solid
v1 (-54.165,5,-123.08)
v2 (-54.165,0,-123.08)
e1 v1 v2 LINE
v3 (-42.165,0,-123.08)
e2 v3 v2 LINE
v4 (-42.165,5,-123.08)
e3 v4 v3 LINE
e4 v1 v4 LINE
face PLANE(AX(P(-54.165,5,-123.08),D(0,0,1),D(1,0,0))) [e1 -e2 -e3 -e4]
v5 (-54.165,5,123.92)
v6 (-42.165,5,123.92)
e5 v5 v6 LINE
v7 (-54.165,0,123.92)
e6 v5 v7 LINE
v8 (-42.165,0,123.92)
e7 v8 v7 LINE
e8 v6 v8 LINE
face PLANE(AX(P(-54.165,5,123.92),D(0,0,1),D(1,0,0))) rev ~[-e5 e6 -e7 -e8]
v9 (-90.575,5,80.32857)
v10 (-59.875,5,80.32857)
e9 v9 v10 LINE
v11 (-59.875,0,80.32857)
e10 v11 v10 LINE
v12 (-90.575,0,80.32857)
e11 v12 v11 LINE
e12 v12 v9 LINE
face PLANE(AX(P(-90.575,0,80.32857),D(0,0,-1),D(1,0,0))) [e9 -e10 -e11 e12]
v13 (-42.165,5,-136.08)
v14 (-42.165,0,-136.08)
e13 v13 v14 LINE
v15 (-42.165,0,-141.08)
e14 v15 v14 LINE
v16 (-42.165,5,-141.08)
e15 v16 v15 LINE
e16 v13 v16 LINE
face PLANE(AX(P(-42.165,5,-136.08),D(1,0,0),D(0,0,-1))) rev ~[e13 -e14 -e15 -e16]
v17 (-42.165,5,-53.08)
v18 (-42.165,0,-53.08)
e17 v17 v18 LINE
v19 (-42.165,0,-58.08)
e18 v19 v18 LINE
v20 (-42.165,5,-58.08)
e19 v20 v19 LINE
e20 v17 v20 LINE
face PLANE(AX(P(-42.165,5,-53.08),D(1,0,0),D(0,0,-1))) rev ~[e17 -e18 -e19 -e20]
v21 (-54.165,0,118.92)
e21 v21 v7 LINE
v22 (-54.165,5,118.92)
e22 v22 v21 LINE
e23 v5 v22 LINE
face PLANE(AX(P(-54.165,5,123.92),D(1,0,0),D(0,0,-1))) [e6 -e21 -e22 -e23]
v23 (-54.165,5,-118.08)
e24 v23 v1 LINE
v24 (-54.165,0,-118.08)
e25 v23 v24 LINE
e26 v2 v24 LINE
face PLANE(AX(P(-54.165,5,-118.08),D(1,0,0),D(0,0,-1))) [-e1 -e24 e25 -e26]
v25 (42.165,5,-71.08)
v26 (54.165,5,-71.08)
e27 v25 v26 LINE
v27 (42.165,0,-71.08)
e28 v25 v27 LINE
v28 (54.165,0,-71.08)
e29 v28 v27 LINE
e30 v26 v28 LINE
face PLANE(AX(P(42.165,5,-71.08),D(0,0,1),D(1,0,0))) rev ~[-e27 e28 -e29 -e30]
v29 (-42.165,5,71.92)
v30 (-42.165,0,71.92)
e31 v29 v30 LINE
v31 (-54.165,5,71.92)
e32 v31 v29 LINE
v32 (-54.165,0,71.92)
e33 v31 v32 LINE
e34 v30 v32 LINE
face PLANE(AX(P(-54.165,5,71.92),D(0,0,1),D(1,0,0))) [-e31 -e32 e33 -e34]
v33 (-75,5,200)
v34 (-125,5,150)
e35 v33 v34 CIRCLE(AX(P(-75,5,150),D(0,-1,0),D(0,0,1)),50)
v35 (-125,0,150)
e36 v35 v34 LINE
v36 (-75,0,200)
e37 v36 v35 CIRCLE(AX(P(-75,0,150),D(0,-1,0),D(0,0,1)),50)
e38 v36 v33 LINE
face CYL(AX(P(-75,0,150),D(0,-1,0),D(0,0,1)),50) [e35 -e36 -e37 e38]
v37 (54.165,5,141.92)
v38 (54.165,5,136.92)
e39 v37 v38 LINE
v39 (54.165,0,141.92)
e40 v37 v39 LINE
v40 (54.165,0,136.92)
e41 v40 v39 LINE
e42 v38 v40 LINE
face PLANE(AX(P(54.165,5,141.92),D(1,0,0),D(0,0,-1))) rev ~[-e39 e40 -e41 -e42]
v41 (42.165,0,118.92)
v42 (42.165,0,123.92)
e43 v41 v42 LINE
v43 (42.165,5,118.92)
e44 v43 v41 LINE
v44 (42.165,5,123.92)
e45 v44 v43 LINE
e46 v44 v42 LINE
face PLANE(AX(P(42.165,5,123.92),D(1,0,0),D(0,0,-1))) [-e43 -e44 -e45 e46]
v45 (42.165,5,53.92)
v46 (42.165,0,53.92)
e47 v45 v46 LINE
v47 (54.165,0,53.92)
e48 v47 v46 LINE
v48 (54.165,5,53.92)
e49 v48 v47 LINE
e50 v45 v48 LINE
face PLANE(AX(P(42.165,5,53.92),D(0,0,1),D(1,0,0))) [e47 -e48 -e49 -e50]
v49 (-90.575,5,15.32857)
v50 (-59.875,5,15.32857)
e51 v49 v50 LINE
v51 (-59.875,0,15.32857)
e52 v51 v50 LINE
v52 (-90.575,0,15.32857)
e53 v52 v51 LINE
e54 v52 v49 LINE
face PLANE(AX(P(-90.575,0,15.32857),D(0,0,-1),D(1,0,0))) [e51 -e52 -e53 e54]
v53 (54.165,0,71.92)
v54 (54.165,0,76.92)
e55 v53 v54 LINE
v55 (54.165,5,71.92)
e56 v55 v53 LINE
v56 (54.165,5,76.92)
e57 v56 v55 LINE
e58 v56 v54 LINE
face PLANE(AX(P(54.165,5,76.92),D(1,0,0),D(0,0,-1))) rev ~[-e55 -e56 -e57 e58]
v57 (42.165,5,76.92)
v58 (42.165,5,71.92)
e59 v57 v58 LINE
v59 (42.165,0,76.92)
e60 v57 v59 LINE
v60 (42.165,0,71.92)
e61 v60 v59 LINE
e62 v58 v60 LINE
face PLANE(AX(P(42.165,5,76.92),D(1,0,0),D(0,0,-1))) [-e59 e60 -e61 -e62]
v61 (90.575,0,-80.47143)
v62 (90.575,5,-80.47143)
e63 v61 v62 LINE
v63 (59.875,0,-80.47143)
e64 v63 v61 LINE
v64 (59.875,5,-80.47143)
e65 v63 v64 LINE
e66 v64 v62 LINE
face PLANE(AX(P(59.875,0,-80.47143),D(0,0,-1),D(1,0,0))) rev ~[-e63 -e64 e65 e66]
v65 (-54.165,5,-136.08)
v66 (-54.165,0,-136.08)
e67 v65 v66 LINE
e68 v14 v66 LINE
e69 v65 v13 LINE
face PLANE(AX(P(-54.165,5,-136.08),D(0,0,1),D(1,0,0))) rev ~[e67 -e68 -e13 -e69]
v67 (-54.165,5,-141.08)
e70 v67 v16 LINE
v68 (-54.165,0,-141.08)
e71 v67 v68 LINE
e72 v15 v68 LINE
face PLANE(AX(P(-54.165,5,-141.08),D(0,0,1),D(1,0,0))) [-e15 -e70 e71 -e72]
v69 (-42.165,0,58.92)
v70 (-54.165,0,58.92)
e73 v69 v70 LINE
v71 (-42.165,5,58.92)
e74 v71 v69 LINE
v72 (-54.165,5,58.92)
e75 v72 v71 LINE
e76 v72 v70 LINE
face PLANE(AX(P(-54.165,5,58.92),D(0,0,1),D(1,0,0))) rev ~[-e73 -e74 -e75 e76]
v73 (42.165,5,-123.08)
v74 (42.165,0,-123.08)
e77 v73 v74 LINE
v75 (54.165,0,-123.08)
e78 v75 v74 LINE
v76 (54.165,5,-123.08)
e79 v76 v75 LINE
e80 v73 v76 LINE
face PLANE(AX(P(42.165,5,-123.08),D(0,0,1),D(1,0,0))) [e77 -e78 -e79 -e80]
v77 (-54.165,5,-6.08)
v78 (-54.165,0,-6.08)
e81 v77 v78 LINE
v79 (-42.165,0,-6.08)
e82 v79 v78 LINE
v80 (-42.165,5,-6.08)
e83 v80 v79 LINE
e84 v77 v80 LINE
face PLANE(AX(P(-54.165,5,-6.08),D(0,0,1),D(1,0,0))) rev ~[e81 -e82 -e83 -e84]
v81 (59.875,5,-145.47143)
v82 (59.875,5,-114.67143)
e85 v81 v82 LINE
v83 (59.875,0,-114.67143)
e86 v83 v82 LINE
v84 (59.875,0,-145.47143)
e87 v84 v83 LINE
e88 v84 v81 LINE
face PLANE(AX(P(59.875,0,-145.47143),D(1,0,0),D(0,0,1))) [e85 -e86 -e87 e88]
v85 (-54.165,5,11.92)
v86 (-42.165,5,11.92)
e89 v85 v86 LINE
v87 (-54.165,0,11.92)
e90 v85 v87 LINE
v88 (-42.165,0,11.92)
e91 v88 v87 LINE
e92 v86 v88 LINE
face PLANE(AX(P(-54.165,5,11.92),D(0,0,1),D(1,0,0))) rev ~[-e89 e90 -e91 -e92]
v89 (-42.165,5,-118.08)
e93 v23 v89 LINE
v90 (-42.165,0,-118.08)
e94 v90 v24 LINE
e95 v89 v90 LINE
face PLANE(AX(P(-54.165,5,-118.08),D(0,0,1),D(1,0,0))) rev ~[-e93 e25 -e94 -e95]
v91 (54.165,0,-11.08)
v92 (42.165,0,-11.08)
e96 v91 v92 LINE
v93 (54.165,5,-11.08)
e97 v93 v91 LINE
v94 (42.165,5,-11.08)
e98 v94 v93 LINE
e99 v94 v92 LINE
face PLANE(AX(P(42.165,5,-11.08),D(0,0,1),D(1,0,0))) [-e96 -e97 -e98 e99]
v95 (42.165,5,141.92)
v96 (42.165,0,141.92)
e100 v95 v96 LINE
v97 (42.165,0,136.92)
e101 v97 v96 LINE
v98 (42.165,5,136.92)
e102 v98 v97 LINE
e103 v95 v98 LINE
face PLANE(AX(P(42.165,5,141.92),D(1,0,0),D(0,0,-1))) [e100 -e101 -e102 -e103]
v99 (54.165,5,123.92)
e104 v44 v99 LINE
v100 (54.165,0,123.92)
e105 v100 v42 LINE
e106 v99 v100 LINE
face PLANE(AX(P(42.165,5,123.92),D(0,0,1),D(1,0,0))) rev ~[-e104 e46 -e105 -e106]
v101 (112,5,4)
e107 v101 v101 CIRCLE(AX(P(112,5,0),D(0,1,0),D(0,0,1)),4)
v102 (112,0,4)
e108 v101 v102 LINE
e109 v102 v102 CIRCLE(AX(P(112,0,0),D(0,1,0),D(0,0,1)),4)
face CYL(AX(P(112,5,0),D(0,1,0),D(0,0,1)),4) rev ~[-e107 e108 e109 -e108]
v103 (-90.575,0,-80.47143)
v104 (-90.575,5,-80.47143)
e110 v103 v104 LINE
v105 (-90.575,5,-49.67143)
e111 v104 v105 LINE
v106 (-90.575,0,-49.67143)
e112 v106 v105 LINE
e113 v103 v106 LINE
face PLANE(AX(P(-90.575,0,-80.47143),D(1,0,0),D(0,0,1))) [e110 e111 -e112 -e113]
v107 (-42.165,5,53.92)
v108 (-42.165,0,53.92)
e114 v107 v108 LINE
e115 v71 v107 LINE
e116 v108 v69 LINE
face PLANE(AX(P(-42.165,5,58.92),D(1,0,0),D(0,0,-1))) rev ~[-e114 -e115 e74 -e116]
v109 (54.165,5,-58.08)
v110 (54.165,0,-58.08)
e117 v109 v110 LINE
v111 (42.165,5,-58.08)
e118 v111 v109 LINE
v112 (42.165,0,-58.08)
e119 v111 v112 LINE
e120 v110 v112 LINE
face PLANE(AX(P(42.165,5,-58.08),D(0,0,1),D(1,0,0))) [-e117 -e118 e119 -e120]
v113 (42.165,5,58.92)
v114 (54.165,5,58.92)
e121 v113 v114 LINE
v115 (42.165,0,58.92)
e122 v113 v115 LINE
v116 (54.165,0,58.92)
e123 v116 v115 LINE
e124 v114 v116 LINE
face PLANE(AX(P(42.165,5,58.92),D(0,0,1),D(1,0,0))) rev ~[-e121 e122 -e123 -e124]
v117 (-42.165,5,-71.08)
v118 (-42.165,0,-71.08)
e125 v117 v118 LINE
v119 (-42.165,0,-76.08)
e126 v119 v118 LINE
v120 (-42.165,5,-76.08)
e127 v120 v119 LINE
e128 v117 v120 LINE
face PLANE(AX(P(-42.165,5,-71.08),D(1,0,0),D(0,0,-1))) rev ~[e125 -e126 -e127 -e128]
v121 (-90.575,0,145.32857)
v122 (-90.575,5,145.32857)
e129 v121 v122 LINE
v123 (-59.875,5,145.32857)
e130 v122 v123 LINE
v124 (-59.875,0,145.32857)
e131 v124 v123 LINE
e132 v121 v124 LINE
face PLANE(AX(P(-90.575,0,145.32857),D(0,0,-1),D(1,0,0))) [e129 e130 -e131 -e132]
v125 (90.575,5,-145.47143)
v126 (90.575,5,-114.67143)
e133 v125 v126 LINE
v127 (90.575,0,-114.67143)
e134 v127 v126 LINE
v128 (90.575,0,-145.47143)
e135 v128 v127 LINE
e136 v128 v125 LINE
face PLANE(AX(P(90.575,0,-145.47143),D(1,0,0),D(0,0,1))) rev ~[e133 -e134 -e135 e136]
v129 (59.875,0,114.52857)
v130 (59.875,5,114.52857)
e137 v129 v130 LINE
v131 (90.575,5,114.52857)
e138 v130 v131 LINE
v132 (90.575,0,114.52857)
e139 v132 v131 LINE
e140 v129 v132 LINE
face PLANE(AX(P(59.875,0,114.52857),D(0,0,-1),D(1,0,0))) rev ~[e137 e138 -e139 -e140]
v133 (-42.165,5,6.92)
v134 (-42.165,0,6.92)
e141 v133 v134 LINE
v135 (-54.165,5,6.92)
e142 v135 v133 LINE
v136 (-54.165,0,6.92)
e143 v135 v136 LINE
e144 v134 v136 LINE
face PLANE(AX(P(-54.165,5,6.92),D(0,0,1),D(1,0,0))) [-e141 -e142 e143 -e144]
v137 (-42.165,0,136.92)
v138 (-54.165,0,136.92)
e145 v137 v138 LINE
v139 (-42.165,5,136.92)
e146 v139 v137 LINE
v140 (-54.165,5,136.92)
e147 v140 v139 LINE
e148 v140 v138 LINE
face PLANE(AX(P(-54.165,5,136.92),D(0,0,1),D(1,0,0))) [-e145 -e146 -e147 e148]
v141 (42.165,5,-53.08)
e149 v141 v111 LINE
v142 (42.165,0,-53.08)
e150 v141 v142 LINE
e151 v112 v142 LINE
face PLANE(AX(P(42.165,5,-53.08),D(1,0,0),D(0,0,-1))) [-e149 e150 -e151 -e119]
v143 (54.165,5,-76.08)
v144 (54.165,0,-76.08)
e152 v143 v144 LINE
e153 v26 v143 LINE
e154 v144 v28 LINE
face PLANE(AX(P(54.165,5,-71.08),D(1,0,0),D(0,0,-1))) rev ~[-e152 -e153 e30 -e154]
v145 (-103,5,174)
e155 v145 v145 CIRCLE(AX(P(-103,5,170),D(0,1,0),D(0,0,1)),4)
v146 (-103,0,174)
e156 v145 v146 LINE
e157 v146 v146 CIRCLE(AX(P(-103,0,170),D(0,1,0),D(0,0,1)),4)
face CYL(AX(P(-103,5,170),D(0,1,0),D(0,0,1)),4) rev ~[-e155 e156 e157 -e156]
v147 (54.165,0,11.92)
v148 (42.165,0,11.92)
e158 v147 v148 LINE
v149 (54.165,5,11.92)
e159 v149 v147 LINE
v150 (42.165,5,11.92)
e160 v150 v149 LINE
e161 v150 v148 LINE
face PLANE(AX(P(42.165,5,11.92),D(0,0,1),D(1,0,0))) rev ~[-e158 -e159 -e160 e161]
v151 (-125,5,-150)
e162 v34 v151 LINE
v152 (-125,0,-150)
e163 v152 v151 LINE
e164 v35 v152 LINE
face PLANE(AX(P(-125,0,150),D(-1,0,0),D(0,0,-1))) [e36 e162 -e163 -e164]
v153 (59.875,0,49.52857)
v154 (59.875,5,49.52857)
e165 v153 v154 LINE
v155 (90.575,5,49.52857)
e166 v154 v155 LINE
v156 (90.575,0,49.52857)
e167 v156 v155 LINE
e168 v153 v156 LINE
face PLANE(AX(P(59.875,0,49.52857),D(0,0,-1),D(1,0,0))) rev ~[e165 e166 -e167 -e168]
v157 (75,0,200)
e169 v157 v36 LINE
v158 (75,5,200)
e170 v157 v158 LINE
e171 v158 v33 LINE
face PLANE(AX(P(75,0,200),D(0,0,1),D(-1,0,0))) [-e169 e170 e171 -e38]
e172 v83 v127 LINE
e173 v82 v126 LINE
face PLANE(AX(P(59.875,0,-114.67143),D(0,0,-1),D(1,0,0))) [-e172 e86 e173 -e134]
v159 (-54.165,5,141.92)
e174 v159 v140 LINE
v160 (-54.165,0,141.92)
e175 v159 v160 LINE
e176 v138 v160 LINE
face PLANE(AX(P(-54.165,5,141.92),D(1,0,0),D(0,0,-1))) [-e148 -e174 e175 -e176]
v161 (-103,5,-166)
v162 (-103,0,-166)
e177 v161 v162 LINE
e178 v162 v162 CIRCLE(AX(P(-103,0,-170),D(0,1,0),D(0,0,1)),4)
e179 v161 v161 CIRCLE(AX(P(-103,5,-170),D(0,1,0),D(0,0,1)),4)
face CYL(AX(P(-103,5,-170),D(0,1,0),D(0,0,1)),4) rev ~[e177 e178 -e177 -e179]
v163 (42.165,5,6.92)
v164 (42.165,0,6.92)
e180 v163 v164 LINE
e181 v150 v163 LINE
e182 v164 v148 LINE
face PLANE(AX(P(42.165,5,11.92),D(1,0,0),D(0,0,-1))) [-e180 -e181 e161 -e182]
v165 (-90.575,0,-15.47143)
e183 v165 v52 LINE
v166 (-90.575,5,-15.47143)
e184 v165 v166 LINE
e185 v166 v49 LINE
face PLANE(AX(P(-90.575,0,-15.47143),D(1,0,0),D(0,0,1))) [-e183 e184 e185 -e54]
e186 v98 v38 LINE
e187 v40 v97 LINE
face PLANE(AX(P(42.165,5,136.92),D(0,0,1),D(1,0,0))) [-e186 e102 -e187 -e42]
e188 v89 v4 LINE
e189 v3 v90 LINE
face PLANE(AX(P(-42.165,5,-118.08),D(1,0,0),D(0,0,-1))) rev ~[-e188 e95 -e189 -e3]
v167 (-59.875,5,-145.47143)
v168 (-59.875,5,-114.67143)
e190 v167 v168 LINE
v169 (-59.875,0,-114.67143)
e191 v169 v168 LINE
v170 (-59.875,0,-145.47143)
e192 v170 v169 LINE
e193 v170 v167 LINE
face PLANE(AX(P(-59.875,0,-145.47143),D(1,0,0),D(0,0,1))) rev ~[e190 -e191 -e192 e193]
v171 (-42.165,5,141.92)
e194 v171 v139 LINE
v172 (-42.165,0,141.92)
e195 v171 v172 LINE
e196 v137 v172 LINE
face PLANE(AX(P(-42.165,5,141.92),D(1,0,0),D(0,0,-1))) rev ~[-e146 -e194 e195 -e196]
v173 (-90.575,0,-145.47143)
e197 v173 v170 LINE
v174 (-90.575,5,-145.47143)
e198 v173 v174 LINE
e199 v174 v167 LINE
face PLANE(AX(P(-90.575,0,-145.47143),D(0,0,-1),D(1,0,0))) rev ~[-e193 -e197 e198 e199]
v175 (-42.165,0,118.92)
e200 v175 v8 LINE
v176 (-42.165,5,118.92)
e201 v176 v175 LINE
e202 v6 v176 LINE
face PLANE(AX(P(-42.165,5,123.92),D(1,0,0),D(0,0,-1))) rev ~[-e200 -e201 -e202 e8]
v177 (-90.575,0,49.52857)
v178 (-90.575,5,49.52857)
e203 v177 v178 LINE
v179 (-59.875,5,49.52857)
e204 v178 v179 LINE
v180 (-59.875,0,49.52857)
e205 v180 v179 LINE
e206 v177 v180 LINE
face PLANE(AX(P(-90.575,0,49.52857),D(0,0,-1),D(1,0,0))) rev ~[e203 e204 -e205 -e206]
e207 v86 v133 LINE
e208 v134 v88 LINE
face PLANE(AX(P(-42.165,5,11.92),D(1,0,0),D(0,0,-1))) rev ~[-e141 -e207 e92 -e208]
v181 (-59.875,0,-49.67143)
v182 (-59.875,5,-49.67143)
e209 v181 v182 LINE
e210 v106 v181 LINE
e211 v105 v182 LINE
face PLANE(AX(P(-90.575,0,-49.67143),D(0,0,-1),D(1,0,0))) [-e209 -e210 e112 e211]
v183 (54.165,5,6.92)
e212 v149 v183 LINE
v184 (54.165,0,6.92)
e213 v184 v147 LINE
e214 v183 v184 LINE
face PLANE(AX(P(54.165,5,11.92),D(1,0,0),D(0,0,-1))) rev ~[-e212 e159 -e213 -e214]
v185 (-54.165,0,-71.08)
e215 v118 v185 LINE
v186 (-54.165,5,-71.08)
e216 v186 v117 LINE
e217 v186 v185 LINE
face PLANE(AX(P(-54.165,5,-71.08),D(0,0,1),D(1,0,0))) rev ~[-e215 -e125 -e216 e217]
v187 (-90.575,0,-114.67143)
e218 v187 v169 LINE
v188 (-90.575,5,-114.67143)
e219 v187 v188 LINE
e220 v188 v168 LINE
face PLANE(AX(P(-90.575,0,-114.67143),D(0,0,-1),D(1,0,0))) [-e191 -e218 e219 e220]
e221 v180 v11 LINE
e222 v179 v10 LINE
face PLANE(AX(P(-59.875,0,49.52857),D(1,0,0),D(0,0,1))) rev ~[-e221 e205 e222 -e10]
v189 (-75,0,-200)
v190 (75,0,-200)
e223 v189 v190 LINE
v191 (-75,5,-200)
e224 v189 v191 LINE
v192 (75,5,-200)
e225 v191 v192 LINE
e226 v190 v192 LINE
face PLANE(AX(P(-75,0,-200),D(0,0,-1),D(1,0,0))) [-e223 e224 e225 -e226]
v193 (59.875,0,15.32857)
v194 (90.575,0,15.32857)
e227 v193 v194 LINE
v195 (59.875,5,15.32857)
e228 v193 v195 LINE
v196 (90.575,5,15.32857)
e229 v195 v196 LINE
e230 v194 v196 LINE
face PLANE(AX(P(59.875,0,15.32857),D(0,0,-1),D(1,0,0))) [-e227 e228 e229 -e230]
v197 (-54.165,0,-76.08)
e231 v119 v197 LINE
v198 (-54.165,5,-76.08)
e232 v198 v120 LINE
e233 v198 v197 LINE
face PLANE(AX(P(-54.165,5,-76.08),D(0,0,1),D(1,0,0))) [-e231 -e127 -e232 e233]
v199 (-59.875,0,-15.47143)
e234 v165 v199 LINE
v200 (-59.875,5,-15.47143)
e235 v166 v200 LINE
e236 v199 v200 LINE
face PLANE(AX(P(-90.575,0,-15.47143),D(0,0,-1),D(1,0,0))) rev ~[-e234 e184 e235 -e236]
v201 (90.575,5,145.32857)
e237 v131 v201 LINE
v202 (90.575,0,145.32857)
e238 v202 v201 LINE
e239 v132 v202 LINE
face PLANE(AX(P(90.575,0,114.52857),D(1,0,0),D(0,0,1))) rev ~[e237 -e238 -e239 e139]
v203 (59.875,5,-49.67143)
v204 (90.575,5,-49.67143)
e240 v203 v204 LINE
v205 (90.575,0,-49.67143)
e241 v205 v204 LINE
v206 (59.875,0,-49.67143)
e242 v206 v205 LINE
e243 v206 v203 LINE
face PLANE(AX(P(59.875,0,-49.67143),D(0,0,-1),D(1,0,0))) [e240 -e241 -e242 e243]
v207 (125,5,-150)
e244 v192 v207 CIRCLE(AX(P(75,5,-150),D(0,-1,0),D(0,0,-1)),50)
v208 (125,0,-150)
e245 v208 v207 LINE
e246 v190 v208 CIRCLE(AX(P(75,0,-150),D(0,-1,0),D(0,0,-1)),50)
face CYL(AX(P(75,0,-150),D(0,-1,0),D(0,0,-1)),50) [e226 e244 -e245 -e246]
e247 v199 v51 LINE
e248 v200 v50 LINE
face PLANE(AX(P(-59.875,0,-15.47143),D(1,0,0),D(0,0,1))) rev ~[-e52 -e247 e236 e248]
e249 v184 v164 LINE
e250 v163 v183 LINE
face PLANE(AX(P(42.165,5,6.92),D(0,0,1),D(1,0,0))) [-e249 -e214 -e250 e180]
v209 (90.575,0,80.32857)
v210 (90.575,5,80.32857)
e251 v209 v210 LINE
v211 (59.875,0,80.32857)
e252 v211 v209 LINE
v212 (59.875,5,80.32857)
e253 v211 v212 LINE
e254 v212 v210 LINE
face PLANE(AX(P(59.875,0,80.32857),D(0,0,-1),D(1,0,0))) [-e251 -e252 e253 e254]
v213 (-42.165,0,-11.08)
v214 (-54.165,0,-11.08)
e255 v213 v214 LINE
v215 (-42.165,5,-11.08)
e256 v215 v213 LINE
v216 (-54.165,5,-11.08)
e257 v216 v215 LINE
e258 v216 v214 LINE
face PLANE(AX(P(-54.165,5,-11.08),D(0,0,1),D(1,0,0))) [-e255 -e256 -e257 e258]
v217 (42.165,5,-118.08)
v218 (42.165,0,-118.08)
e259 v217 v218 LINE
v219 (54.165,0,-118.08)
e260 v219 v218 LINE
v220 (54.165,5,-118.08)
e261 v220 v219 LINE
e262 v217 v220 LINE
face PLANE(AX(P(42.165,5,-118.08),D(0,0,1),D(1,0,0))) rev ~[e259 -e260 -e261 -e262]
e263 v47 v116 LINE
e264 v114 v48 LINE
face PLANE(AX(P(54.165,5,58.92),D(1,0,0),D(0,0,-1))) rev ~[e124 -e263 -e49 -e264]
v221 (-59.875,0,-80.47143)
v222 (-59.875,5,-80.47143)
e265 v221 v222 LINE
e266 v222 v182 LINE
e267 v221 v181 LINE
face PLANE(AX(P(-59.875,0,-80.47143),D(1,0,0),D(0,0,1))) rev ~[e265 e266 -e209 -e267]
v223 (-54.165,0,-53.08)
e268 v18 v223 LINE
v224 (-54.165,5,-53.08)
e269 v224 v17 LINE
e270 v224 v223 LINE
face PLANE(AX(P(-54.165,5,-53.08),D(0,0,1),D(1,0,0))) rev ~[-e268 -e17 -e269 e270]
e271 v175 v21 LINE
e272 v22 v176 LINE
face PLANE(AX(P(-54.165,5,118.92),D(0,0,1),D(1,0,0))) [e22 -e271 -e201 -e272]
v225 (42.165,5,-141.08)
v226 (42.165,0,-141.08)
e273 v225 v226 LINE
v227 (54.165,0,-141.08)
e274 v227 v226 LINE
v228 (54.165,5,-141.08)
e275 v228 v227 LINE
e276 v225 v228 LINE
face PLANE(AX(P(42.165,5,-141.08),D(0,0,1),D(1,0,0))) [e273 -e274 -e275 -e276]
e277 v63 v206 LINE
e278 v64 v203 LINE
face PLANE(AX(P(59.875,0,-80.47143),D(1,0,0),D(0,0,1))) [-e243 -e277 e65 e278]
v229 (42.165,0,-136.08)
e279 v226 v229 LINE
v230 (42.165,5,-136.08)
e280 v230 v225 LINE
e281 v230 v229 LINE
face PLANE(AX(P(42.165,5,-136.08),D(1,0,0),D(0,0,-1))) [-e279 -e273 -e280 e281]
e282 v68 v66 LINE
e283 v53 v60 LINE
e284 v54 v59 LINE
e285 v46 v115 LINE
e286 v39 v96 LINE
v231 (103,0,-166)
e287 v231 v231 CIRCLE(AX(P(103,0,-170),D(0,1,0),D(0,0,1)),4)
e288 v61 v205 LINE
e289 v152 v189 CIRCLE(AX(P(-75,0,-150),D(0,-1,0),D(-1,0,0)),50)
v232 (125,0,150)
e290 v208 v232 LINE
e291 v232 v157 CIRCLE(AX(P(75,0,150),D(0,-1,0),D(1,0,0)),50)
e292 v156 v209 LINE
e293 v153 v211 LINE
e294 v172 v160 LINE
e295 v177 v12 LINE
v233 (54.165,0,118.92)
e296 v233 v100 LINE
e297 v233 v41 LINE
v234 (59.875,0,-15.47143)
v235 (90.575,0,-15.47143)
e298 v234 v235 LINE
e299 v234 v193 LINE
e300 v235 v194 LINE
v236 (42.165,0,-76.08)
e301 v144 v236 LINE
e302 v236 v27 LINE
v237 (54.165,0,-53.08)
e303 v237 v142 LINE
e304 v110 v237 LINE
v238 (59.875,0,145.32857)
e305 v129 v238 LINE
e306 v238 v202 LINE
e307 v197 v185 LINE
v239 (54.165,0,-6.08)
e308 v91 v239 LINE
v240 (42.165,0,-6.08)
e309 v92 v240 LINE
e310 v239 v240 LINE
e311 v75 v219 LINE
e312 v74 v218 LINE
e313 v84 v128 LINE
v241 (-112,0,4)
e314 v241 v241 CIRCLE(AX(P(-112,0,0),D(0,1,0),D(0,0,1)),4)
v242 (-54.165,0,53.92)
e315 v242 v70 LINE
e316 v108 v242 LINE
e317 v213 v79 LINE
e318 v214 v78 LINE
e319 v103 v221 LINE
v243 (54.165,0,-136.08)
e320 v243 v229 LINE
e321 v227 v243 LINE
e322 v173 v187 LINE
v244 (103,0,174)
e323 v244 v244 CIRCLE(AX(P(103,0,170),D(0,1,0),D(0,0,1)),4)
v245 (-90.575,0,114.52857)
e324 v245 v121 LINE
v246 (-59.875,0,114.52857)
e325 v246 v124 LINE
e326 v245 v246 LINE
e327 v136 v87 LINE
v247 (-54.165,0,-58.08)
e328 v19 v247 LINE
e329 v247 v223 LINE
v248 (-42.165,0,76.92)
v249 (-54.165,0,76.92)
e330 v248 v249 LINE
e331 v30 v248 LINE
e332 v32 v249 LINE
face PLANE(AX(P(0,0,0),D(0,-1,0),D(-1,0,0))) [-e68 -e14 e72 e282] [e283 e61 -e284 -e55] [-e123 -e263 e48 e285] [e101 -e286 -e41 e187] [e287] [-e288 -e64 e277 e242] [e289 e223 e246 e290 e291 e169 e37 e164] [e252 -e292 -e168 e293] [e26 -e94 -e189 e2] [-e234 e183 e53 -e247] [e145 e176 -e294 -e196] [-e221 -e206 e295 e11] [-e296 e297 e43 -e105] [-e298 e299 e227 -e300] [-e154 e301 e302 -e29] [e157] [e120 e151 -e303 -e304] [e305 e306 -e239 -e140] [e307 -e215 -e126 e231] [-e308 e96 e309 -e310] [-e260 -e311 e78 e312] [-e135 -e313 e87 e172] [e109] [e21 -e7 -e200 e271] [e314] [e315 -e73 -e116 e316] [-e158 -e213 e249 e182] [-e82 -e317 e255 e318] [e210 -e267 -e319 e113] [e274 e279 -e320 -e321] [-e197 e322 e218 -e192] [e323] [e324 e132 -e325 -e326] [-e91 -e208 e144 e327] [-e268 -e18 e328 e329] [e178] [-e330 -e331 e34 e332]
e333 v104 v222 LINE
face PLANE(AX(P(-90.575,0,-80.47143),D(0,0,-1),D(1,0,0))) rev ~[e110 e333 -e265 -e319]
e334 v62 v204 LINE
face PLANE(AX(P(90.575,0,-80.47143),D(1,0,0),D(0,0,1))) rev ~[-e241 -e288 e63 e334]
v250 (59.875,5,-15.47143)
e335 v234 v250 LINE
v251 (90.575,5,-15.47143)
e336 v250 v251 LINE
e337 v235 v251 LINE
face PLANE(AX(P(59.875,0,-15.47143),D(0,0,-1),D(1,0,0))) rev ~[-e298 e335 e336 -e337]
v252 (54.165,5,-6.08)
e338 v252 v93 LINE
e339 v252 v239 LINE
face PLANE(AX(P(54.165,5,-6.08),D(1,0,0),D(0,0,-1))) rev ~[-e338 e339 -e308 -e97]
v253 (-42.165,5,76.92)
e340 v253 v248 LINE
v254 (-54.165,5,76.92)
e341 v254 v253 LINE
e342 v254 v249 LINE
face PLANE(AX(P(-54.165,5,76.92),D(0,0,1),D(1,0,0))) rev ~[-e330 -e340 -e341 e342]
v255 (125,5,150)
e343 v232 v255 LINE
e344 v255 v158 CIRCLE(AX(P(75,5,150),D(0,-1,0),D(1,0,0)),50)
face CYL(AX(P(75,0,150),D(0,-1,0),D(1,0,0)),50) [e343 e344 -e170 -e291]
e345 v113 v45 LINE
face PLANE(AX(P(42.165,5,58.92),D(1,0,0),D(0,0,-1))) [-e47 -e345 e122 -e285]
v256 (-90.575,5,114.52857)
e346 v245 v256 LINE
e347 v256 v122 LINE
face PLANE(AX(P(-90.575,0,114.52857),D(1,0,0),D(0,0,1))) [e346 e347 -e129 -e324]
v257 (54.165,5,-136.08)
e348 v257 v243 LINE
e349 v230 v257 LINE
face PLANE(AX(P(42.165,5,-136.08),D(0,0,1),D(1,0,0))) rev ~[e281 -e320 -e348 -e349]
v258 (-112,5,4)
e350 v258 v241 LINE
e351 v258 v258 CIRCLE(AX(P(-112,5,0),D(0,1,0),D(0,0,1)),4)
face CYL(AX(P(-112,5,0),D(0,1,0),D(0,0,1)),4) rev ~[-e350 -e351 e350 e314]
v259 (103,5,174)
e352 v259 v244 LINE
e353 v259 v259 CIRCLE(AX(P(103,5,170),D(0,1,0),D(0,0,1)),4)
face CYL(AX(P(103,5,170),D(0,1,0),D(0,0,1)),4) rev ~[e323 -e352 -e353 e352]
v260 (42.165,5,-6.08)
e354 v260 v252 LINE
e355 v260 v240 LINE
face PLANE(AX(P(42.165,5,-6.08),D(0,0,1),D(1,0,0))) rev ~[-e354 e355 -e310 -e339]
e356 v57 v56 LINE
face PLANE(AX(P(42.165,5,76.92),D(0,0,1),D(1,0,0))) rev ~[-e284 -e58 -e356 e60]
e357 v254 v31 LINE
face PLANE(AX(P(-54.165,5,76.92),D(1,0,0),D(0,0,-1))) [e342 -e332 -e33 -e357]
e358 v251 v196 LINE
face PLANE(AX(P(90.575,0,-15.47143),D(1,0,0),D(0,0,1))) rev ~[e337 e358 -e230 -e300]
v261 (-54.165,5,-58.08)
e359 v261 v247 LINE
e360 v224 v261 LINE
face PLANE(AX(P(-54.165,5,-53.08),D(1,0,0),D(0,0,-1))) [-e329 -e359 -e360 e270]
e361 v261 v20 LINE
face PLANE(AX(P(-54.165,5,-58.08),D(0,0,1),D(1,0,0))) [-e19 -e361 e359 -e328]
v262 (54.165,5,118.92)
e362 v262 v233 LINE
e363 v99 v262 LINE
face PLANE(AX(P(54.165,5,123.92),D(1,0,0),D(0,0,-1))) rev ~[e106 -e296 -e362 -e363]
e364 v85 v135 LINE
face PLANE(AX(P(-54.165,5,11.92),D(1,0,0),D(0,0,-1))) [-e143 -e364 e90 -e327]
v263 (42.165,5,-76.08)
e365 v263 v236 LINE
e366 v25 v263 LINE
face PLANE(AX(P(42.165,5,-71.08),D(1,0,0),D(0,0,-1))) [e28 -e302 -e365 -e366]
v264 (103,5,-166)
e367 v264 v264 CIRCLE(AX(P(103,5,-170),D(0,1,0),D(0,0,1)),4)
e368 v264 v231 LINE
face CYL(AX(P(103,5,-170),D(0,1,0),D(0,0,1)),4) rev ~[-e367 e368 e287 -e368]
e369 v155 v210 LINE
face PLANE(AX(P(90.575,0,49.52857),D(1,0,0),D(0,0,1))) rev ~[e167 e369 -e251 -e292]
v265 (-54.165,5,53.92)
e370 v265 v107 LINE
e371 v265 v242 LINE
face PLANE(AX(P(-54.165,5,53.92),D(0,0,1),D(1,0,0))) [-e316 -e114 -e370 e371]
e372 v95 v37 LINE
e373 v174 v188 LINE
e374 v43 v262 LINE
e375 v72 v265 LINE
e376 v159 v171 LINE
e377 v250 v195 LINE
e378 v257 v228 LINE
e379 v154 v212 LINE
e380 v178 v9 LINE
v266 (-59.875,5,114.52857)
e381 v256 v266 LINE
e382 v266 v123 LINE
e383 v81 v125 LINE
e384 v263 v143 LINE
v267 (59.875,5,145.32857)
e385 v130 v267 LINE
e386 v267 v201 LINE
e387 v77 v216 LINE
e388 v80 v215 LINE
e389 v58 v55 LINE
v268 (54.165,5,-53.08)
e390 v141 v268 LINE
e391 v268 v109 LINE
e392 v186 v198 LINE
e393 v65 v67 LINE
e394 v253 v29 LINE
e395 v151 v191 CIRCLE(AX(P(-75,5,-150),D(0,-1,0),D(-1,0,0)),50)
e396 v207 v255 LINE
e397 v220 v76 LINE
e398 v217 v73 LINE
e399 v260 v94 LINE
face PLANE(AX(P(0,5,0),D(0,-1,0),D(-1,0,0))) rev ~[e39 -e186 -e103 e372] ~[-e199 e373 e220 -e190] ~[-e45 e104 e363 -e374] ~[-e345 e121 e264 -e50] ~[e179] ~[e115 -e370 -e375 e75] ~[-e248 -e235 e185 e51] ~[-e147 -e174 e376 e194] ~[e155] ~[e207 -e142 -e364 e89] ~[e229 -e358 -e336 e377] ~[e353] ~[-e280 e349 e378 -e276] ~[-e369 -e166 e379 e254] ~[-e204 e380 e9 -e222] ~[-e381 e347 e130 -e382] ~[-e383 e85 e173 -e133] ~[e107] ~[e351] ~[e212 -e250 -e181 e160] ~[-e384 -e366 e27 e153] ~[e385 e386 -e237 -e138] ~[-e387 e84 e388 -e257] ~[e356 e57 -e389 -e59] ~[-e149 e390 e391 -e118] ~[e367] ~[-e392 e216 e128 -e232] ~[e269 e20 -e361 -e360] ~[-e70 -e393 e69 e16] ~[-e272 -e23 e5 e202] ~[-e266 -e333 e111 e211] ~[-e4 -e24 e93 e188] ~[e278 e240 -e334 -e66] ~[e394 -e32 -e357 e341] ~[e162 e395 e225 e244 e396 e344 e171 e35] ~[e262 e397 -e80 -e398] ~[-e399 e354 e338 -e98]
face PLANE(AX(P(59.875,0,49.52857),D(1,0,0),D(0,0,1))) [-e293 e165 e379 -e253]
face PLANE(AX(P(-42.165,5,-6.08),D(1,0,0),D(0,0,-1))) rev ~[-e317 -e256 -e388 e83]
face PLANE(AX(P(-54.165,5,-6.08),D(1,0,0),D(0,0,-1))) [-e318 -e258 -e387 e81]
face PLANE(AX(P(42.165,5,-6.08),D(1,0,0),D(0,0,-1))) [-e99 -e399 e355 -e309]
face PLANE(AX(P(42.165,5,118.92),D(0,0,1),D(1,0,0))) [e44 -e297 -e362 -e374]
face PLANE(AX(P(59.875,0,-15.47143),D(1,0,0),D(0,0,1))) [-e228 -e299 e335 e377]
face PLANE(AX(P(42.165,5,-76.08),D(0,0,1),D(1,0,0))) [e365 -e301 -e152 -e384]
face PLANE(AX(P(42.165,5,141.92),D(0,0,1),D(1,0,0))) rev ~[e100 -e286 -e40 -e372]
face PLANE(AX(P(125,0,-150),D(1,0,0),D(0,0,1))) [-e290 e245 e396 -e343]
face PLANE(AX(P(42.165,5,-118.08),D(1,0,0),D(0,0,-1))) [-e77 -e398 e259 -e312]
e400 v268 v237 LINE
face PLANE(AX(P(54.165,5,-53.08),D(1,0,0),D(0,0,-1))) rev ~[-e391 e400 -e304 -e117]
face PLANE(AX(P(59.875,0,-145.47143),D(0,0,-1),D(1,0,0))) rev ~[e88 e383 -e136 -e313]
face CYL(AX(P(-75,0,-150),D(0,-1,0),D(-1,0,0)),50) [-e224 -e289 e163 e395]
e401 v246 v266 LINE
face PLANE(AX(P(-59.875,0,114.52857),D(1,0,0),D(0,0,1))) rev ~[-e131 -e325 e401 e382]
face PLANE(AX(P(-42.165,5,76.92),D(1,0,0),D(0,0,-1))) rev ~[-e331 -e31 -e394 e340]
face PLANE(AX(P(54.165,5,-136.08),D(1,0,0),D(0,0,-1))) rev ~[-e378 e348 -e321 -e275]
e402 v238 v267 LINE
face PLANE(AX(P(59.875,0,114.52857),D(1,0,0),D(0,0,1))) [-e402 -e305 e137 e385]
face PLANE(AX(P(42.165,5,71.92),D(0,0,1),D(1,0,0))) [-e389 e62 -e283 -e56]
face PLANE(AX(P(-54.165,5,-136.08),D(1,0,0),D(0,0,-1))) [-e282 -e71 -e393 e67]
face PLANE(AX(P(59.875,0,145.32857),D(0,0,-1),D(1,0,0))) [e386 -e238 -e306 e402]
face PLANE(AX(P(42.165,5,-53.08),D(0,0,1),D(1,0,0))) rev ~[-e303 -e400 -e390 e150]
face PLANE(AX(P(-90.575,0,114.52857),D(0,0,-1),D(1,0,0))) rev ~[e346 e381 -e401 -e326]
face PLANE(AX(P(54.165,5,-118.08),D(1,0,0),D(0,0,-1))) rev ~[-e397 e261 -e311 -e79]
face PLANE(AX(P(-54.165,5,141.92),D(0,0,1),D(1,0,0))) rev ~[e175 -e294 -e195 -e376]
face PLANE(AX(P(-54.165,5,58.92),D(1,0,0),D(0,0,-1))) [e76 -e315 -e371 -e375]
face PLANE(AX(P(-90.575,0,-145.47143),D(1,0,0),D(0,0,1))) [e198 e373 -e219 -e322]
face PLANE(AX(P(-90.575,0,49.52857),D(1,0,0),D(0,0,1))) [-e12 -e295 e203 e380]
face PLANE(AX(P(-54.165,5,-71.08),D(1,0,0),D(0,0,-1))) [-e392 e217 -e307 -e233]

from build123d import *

# Parameters (mm, degrees)
BOSS_EXTRUDE1_DEPTH = 5
SKETCH3_W           = 30.7
SKETCH3_H           = 30.8
SKETCH3_W_2         = 30.3
SKETCH3_H_2         = 30.4
CUT_EXTRUDE1_DEPTH  = 10
LPATTERN1_COUNT     = 5
LPATTERN1_PITCH     = 65
SKETCH4_W           = 12
SKETCH4_H           = 5
CUT_EXTRUDE2_DEPTH  = 10
LPATTERN2_COUNT     = 5
LPATTERN2_PITCH     = 65
SKETCH5_R           = 4
CUT_EXTRUDE3_DEPTH  = 5


with BuildPart() as part:
    # Sketch1 → Boss-Extrude1 (new body)
    with BuildSketch(Plane(origin=(0, 0, 0), x_dir=(1, 0, 0), z_dir=(0, 1, 0))):
        with BuildLine():
            Line((-75, 200), (75, 200))
            ThreePointArc((75, 200), (110.355339059, 185.355339059), (125, 150))
            Line((125, 150), (125, -150))
            ThreePointArc((125, -150), (110.355339059, -185.355339059), (75, -200))
            Line((75, -200), (-75, -200))
            ThreePointArc((-75, -200), (-110.355339059, -185.355339059), (-125, -150))
            Line((-125, -150), (-125, 150))
            ThreePointArc((-125, 150), (-110.355339059, 185.355339059), (-75, 200))
        make_face()
    extrude(amount=BOSS_EXTRUDE1_DEPTH)

    # Sketch3 → Cut-Extrude1 (cut)
    # profile 1 of 4: a face of its own
    with BuildSketch(Plane.XZ):
        with Locations((-75.225, 129.928570167)):
            Rectangle(SKETCH3_W, SKETCH3_H)
        with Locations((-75.225, 129.928570167)):
            Rectangle(SKETCH3_W_2, SKETCH3_H_2, mode=Mode.SUBTRACT)
    # profile 2 of 4: a face of its own
    with BuildSketch(Plane.XZ):
        with Locations((-75.225, 129.928570167)):
            Rectangle(SKETCH3_W_2, SKETCH3_H_2)
    # profile 3 of 4: a face of its own
    with BuildSketch(Plane.XZ):
        with Locations((75.225, 129.928570167)):
            Rectangle(SKETCH3_W, SKETCH3_H)
        with Locations((75.225, 129.928570167)):
            Rectangle(SKETCH3_W_2, SKETCH3_H_2, mode=Mode.SUBTRACT)
    # profile 4 of 4: a face of its own
    with BuildSketch(Plane.XZ):
        with Locations((75.225, 129.928570167)):
            Rectangle(SKETCH3_W_2, SKETCH3_H_2)
    cut_extrude1 = extrude(amount=-CUT_EXTRUDE1_DEPTH, mode=Mode.SUBTRACT)

    # LPattern1: Cut-Extrude1 ×5
    with Locations(*[(0, 0, -i * LPATTERN1_PITCH) for i in range(1, LPATTERN1_COUNT)]):
        add(cut_extrude1, mode=Mode.SUBTRACT)

    # Sketch4 → Cut-Extrude2 (cut)
    with BuildSketch(Plane(origin=(0, 5, 0), x_dir=(1, 0, 0), z_dir=(0, 1, 0))):
        with Locations((-48.165, -139.42)):
            Rectangle(SKETCH4_W, SKETCH4_H)
        with Locations((-48.165, -121.42)):
            Rectangle(SKETCH4_W, SKETCH4_H)
        with Locations((48.165, -139.42)):
            Rectangle(SKETCH4_W, SKETCH4_H)
        with Locations((48.165, -121.42)):
            Rectangle(SKETCH4_W, SKETCH4_H)
    cut_extrude2 = extrude(amount=-CUT_EXTRUDE2_DEPTH, mode=Mode.SUBTRACT)

    # LPattern2: Cut-Extrude2 ×5
    with Locations(*[(0, 0, -i * LPATTERN2_PITCH) for i in range(1, LPATTERN2_COUNT)]):
        add(cut_extrude2, mode=Mode.SUBTRACT)

    # Sketch5 → Cut-Extrude3 (cut)
    with BuildSketch(Plane(origin=(0, 5, 0), x_dir=(1, 0, 0), z_dir=(0, 1, 0))):
        with Locations(Location((-103, 170, 0), (0, 0, 270))):
            Circle(SKETCH5_R)
        with Locations(Location((103, 170, 0), (0, 0, 270))):
            Circle(SKETCH5_R)
        with Locations(Location((103, -170, 0), (0, 0, 270))):
            Circle(SKETCH5_R)
        with Locations(Location((-103, -170, 0), (0, 0, 270))):
            Circle(SKETCH5_R)
        with Locations(Location((-112, 0, 0), (0, 0, 270))):
            Circle(SKETCH5_R)
        with Locations(Location((112, 0, 0), (0, 0, 270))):
            Circle(SKETCH5_R)
    extrude(amount=-CUT_EXTRUDE3_DEPTH, mode=Mode.SUBTRACT)


solid = part.part
